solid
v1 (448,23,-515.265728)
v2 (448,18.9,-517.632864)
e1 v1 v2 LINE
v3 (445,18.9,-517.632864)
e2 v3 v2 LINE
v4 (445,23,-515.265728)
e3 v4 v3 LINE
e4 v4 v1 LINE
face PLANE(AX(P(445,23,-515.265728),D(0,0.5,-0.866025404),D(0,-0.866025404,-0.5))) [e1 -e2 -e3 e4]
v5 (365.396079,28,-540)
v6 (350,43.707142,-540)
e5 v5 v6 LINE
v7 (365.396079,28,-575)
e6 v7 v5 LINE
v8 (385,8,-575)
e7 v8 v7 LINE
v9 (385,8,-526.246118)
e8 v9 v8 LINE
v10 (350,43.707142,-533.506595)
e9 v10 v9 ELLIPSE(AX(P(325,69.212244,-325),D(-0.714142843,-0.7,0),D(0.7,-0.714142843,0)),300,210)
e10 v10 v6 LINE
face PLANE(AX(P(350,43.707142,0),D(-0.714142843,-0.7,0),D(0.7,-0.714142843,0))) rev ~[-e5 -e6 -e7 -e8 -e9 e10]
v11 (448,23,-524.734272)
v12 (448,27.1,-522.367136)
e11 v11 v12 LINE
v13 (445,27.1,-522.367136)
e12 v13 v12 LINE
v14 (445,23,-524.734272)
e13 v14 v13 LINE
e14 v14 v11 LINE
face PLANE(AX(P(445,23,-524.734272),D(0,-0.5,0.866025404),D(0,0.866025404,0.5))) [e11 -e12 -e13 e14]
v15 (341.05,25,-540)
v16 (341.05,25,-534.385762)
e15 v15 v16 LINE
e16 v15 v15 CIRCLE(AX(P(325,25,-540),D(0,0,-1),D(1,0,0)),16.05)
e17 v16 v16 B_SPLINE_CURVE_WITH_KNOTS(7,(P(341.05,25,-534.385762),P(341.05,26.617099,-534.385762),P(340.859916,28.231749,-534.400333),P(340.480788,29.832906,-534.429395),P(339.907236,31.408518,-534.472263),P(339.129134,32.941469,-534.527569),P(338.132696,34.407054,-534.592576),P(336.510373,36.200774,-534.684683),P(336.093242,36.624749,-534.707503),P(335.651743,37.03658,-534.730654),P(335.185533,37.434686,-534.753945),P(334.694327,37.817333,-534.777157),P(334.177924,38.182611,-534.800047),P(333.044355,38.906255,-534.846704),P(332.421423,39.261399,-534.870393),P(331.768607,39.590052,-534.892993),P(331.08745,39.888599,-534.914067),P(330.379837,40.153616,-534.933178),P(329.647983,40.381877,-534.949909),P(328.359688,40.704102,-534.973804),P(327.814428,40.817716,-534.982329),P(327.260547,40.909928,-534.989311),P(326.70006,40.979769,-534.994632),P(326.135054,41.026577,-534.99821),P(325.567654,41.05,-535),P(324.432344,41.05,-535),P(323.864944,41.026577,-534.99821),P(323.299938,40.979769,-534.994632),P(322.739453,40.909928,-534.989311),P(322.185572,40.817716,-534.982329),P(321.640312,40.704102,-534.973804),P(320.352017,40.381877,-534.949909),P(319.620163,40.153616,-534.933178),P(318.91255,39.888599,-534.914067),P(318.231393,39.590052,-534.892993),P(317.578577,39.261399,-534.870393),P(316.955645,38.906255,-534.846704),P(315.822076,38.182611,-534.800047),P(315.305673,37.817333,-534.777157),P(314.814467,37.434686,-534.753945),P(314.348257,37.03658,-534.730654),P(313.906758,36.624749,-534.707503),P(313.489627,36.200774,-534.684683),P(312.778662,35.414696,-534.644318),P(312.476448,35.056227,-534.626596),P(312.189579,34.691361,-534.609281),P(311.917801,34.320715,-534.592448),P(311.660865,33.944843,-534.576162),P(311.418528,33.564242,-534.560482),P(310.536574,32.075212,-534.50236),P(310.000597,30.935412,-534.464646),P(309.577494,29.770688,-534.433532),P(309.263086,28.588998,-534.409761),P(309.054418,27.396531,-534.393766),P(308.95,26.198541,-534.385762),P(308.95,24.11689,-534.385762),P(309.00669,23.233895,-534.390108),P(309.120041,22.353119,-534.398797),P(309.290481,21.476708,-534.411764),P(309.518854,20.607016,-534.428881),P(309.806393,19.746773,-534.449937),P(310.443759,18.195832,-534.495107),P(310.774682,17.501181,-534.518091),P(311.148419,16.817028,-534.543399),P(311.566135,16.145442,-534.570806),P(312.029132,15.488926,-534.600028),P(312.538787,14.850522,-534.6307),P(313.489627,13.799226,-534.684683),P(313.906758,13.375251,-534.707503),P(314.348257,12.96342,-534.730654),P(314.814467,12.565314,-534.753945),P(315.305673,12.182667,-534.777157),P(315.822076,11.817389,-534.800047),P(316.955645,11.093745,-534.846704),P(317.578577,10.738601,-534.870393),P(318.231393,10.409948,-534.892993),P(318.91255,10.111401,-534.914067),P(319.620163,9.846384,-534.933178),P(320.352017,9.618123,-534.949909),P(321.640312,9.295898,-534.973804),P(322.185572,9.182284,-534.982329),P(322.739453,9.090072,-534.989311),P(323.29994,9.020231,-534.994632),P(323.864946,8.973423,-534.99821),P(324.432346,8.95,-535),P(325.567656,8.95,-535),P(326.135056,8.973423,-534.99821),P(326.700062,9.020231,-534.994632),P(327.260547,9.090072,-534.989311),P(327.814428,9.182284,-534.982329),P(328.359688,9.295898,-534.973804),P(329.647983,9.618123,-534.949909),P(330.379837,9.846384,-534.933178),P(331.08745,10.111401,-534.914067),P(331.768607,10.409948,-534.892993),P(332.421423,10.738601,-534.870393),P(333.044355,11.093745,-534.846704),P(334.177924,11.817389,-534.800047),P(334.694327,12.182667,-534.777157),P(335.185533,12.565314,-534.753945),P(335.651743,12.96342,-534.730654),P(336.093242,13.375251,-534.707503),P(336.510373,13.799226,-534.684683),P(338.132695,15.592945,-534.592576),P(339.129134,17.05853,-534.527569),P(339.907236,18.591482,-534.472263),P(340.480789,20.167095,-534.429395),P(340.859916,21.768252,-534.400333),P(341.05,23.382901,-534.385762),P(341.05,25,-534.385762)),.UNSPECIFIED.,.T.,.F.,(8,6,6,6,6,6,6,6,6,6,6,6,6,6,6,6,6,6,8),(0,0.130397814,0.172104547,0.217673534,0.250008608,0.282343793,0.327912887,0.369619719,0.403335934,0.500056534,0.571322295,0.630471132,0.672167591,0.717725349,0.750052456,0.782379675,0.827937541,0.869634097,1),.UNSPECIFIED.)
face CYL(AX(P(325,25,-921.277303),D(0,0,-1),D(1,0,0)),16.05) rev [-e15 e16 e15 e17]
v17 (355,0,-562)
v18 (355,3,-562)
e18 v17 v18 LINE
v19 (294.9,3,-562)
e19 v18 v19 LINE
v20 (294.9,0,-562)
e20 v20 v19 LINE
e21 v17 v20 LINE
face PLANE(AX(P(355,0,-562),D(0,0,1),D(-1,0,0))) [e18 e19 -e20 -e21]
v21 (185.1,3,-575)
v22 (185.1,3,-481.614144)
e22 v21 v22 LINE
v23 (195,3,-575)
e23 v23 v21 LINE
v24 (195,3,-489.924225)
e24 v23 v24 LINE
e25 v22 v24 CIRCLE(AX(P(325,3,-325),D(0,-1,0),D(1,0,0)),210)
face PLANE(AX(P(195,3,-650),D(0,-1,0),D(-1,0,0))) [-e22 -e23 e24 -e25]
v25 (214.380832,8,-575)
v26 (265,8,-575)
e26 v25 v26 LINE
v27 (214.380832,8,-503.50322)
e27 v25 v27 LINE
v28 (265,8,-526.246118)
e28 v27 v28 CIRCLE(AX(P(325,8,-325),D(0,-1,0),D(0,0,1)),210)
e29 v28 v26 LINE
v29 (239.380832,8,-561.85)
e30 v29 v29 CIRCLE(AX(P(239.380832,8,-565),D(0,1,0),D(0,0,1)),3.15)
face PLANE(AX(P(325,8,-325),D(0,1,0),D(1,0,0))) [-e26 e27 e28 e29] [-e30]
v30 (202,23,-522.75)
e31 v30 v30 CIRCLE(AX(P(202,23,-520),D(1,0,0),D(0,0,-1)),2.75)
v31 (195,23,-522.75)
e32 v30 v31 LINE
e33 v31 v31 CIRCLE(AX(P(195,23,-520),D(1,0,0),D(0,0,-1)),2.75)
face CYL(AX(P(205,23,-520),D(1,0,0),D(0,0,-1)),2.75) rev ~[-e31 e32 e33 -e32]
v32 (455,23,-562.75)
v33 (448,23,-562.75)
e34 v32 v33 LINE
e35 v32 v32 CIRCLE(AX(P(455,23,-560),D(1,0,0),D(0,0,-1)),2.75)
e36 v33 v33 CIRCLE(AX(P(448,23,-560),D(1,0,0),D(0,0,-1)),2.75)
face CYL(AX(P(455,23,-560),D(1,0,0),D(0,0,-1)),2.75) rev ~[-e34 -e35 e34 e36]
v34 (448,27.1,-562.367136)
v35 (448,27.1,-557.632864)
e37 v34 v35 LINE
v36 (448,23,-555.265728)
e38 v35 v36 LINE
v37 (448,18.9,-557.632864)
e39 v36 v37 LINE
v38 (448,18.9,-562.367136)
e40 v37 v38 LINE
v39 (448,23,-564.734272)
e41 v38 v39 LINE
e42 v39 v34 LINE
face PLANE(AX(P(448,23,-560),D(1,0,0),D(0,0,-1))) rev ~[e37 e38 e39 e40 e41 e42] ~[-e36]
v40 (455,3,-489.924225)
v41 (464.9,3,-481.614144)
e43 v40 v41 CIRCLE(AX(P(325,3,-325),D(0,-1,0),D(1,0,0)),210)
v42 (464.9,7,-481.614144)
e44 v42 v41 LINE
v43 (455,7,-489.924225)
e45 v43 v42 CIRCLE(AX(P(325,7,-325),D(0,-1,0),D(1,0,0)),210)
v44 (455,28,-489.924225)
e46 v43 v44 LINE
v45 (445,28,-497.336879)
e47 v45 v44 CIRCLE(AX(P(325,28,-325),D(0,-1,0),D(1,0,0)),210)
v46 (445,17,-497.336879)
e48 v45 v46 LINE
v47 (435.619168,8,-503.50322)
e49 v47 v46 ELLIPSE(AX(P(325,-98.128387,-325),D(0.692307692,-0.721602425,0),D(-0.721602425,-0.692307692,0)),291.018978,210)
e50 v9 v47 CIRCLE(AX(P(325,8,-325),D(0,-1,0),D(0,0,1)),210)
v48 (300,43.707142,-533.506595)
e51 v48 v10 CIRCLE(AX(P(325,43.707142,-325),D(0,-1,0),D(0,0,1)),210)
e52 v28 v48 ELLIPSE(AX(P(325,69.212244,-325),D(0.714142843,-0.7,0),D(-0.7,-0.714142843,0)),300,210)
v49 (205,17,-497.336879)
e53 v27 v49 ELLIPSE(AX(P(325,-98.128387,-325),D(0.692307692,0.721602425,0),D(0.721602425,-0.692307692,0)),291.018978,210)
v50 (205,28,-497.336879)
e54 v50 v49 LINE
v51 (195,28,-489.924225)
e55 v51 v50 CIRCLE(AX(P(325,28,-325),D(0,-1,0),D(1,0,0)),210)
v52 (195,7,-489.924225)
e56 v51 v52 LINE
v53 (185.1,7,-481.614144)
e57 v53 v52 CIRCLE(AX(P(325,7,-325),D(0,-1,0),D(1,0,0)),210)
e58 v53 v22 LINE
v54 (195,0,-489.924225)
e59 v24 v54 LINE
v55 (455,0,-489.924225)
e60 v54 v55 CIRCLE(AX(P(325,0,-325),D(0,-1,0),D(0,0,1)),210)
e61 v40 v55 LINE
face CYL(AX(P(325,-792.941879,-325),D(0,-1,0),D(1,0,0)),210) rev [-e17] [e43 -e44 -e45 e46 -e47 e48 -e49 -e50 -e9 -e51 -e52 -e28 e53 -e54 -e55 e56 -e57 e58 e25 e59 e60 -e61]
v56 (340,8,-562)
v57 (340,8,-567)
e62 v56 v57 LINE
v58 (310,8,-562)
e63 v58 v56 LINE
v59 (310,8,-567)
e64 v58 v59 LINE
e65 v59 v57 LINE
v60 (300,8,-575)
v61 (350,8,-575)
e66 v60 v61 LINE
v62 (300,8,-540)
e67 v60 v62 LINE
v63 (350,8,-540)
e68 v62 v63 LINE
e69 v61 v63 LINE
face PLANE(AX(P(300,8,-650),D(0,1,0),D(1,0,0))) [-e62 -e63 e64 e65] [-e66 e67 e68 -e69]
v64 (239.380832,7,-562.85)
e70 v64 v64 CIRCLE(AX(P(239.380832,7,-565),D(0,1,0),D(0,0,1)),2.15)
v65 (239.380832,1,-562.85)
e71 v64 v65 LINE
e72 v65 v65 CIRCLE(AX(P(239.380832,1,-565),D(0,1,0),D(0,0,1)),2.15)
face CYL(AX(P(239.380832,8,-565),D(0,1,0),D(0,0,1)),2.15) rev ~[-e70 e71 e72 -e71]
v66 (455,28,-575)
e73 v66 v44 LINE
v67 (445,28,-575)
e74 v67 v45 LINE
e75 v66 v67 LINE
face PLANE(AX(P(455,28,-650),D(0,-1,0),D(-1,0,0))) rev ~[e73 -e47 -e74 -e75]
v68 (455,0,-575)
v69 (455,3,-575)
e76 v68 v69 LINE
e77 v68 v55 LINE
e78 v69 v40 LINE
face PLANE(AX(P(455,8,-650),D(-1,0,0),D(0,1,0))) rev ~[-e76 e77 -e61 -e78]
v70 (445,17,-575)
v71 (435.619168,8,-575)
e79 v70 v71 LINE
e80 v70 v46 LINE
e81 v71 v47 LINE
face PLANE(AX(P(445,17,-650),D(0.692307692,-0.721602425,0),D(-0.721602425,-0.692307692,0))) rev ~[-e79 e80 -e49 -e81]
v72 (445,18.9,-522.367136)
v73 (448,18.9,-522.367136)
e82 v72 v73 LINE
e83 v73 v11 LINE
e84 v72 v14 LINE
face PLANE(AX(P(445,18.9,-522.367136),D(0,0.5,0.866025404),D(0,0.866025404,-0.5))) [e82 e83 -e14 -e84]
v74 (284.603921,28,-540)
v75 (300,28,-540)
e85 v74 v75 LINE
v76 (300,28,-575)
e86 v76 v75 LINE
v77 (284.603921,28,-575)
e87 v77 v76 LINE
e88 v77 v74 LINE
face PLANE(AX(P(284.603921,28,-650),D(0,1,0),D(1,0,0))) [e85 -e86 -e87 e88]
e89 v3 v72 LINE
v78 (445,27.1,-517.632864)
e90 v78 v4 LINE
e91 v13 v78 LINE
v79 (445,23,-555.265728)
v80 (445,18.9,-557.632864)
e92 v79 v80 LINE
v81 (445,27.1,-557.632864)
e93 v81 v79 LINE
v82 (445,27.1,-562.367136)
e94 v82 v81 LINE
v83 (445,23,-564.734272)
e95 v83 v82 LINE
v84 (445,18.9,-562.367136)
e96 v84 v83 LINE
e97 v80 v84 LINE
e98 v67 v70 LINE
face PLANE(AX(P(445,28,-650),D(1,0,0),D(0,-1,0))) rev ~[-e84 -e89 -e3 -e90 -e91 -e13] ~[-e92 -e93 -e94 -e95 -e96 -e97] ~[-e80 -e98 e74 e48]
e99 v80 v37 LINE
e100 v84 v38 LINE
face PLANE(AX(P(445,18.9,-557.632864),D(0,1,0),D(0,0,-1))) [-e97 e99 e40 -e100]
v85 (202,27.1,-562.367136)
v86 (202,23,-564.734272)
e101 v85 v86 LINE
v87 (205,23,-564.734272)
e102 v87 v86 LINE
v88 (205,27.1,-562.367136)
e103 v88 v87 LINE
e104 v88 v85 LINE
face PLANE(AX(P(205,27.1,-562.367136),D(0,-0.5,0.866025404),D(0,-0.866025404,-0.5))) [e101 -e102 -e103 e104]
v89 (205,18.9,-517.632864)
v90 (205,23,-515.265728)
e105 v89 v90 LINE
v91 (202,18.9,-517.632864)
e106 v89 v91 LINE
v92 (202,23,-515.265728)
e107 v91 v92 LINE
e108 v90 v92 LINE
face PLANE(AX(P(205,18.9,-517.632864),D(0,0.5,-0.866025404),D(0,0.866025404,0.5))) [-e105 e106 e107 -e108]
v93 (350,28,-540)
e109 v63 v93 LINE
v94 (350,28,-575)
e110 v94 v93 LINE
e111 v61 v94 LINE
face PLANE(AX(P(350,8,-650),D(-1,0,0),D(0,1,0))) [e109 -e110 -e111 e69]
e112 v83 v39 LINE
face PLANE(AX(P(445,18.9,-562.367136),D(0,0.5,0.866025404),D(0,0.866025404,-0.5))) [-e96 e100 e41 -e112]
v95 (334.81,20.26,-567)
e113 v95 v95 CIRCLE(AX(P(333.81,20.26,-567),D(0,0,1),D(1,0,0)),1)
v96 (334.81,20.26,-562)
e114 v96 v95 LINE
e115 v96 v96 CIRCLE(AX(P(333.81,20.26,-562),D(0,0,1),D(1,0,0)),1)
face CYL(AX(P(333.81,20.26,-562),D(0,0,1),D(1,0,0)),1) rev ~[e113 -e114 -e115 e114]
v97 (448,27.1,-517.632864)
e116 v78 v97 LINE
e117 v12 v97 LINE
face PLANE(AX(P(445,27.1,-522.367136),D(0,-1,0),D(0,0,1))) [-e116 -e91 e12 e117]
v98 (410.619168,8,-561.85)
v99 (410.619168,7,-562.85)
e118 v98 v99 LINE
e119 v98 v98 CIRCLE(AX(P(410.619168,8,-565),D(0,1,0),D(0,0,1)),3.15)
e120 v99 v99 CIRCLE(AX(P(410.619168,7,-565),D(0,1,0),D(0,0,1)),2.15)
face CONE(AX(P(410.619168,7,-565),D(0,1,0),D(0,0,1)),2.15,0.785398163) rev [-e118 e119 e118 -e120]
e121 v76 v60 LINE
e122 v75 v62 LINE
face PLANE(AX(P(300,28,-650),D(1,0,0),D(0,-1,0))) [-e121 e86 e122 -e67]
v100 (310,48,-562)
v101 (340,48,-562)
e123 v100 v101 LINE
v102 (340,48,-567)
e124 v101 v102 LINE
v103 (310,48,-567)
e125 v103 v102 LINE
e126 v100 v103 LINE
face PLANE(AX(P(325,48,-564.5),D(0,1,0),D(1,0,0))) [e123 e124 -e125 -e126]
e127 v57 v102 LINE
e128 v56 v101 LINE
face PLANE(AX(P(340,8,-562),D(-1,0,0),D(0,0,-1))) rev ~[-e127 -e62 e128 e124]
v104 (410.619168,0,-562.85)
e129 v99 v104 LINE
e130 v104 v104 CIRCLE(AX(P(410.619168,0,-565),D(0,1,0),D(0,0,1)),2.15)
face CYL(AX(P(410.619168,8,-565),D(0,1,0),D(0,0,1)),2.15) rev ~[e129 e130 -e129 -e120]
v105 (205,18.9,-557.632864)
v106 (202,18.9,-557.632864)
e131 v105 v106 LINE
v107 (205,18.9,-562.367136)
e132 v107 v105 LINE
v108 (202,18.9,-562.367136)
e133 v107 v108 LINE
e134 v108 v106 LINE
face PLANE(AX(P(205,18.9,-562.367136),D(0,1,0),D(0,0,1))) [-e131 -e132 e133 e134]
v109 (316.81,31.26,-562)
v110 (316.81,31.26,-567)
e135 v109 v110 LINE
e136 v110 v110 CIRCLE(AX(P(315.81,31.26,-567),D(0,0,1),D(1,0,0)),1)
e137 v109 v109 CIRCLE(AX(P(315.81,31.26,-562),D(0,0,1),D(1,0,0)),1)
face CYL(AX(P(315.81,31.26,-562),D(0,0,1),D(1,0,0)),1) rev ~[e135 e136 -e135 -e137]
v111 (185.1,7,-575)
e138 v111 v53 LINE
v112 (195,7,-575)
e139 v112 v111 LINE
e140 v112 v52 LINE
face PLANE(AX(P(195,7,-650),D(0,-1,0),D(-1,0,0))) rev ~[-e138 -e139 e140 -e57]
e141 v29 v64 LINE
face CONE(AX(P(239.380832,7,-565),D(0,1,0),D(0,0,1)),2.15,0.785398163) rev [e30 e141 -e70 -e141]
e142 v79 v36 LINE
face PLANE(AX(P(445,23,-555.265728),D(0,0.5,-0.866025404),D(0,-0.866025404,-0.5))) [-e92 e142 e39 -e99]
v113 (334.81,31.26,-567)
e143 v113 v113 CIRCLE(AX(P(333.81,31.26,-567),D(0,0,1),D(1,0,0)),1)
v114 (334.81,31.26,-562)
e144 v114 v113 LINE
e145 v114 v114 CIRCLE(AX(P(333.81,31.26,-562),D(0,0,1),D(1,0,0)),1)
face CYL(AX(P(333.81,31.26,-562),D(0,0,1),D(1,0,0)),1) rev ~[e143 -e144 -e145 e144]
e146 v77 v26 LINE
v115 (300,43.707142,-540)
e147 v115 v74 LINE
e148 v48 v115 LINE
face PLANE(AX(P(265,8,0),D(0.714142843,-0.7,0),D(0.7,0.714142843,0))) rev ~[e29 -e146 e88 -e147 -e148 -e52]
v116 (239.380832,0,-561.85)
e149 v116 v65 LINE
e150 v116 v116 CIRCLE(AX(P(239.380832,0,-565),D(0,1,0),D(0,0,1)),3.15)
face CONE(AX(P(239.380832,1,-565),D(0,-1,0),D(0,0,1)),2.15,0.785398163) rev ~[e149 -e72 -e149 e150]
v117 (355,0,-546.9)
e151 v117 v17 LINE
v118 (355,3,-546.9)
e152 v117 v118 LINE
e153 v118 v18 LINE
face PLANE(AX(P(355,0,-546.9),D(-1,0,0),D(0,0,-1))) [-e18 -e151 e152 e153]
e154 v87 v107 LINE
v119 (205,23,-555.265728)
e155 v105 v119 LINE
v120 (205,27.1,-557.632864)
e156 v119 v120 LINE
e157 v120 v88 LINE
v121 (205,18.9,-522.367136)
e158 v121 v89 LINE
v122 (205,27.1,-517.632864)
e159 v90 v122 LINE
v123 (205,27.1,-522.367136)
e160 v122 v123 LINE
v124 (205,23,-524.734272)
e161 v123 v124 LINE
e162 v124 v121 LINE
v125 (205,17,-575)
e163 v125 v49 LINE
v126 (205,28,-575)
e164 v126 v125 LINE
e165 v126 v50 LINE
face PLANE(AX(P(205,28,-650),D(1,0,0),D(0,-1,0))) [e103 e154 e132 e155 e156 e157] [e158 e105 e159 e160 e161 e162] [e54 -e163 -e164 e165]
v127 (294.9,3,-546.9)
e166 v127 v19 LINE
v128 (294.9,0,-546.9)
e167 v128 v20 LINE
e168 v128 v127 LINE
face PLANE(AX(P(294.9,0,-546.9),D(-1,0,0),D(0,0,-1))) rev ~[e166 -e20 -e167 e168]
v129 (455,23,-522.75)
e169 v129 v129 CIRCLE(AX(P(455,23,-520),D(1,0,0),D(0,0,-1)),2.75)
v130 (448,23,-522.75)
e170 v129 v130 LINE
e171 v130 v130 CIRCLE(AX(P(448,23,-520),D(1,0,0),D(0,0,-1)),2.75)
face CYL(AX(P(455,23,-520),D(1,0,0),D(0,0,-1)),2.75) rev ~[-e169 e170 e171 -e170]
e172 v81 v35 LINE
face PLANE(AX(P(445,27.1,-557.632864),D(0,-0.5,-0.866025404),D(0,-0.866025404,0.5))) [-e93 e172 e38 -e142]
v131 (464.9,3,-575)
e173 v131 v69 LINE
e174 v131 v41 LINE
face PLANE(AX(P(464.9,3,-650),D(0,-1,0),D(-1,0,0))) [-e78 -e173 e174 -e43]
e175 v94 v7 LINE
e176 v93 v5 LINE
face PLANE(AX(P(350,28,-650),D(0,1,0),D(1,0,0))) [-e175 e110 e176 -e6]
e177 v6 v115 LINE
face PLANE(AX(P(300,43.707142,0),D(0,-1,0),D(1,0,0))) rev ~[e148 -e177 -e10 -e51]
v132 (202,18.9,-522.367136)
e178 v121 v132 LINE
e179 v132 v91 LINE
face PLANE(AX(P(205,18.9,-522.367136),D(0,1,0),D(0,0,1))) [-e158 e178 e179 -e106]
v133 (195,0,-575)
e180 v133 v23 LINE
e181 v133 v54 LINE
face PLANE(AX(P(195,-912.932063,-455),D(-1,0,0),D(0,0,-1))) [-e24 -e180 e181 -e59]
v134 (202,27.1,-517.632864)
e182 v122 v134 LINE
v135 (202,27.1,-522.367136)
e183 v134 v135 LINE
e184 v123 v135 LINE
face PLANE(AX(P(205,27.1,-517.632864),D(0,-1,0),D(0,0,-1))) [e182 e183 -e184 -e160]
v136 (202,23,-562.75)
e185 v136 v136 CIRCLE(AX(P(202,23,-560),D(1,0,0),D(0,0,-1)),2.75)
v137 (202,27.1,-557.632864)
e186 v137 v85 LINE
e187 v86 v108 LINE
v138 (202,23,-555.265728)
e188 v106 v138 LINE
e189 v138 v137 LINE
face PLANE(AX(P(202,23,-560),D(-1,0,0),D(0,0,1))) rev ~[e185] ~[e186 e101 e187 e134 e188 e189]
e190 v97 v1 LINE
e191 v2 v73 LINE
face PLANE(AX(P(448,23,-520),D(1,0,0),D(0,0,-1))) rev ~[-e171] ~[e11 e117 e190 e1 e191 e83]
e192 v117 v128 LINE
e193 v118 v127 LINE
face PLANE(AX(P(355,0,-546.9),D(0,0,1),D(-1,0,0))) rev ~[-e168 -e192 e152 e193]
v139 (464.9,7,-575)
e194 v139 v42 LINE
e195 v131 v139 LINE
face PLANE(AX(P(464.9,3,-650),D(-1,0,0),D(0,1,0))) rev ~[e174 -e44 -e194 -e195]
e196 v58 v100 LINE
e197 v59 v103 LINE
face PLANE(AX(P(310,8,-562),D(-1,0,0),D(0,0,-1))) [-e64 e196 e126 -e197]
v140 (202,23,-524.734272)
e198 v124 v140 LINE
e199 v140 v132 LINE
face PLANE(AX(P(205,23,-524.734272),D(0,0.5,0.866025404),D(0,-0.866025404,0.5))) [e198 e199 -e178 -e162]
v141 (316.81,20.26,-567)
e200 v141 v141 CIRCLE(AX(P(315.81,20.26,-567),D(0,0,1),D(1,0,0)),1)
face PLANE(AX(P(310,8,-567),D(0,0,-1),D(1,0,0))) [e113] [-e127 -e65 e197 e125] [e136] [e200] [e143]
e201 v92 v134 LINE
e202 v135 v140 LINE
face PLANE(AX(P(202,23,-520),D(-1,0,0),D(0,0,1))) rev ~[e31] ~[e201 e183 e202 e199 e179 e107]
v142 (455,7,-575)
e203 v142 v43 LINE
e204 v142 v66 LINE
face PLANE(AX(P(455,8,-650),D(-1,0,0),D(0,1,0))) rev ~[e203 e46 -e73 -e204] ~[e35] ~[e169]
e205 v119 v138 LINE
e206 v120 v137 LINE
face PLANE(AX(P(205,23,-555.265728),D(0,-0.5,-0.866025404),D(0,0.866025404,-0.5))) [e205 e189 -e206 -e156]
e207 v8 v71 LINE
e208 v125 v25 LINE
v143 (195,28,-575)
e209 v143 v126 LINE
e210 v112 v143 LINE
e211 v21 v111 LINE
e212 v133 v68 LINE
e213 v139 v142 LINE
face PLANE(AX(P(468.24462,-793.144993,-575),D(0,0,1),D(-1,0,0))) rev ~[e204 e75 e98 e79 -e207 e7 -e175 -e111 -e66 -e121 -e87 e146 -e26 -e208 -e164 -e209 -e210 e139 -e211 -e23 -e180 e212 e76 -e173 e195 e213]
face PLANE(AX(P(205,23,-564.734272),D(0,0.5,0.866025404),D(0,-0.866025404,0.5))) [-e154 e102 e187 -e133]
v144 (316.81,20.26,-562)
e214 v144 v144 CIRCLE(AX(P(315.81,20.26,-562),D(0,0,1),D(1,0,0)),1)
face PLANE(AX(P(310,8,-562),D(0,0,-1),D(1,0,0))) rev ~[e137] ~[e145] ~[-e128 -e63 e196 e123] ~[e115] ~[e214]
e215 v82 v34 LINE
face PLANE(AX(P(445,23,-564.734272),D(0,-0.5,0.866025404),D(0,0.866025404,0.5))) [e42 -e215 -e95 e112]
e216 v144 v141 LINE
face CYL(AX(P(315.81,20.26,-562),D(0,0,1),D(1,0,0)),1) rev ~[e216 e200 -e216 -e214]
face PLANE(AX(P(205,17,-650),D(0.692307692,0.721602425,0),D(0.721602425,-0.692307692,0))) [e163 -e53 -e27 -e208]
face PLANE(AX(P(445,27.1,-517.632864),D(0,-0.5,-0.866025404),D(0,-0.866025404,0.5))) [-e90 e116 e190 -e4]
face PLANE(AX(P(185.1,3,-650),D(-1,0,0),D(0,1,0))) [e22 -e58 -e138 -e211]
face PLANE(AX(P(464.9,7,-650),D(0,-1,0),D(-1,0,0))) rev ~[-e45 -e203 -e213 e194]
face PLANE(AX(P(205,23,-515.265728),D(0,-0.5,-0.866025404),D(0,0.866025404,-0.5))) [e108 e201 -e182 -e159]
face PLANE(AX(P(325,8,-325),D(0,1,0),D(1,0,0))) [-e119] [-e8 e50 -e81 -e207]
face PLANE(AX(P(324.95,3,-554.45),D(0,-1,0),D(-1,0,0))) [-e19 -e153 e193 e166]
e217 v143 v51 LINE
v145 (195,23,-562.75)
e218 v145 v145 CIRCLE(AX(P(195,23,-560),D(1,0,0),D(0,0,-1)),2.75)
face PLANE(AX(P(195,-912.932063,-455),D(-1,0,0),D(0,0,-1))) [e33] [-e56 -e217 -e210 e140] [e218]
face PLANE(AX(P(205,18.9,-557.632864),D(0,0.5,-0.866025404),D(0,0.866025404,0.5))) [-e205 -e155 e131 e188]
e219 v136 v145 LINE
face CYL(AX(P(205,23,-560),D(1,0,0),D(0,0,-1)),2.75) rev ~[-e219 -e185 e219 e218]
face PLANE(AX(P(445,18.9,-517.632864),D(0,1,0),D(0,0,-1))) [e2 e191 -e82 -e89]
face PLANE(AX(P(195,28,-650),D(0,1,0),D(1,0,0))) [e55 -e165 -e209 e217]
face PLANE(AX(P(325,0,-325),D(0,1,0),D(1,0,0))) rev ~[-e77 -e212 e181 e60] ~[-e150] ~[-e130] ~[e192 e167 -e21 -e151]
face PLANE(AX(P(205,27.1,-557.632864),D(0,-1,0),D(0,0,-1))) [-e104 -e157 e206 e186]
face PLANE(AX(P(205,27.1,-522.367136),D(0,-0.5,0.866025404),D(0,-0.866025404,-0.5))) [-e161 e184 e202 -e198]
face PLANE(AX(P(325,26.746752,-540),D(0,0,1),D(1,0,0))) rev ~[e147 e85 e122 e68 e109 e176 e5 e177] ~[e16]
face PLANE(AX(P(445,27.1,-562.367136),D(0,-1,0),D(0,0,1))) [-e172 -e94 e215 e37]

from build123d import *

# Parameters (mm, degrees)
SKETCH1_W               = 650
SKETCH1_H               = 650
BOSS_EXTRUDE1_DEPTH     = 8
BOSS_EXTRUDE2_DEPTH     = 650
CUT_EXTRUDE2_DEPTH      = 921.277302922
CUT_EXTRUDE2_DEPTH_BACK = 921.277302922
SKETCH4_R               = 16.05
CUT_EXTRUDE1_DEPTH      = 920.932062709
CUT_EXTRUDE1_DEPTH_BACK = 920.932062709
SKETCH2_R               = 210
CUT_EXTRUDE3_DEPTH      = 921.277302998
CUT_EXTRUDE3_DEPTH_BACK = 110
CUT_EXTRUDE4_DEPTH      = 110
CUT_EXTRUDE5_DEPTH      = 920.932062713
CUT_EXTRUDE5_DEPTH_BACK = 920.932062713
SKETCH7_OUTSIDE_W       = 836.056
SKETCH7_OUTSIDE_H       = 836.056
SKETCH7_OUTSIDE_W_2     = 260
SKETCH7_OUTSIDE_H_2     = 231.544504505
BOSS_EXTRUDE3_DEPTH     = 170
SKETCH9_W               = 9.9
SKETCH9_H               = 4
BOSS_EXTRUDE4_DEPTH     = 170
CUT_EXTRUDE6_DEPTH      = 800.941879143
CUT_EXTRUDE6_DEPTH_BACK = 800.941879143
SKETCH10_R              = 210
SKETCH11_W              = 30
SKETCH11_H              = 5
BOSS_EXTRUDE5_DEPTH     = 40
CUT_EXTRUDE7_DEPTH      = 801.144993169
CUT_EXTRUDE7_DEPTH_BACK = 801.144993169
SKETCH13_R              = 2.75
CUT_EXTRUDE8_DEPTH      = 10
SKETCH14_R              = 2.75
CUT_EXTRUDE9_DEPTH      = 10
CUT_EXTRUDE10_DEPTH     = 3
LPATTERN1_COUNT         = 2
LPATTERN1_PITCH         = 40
CUT_EXTRUDE11_DEPTH     = 3
LPATTERN2_COUNT         = 2
LPATTERN2_PITCH         = 40
SKETCH17_R              = 2.15
CUT_EXTRUDE12_DEPTH     = 10
CHAMFER1_SIZE           = 1
SKETCH18_W              = 60.1
SKETCH18_H              = 15.1
CUT_EXTRUDE13_DEPTH     = 3
SKETCH19_R              = 1
CUT_EXTRUDE14_DEPTH     = 10


with BuildPart() as part:
    # Sketch1 → Boss-Extrude1 (new body)
    with BuildSketch(Plane(origin=(0, 0, 0), x_dir=(1, 0, 0), z_dir=(0, 1, 0))):
        with Locations((325, 325)):
            Rectangle(SKETCH1_W, SKETCH1_H)
    extrude(amount=BOSS_EXTRUDE1_DEPTH)

    # Sketch3 → Boss-Extrude2 (add)
    with BuildSketch(Plane.XY):
        Polygon((300, 43.707142143), (350, 43.707142143), (385, 8), (265, 8), align=None)
    extrude(amount=-BOSS_EXTRUDE2_DEPTH)

    # Sketch4 → Cut-Extrude2 (cut, two sides: drawn at the far end of the back side and taken through both)
    with BuildSketch(Plane.XY.offset(-CUT_EXTRUDE2_DEPTH_BACK)):
        with Locations((325, 25)):
            Circle(SKETCH4_R)
    extrude(amount=CUT_EXTRUDE2_DEPTH + CUT_EXTRUDE2_DEPTH_BACK, mode=Mode.SUBTRACT)

    # Sketch2 → Cut-Extrude1 (cut, two sides: drawn at the far end of the back side and taken through both)
    with BuildSketch(Plane(origin=(0, 8, 0), x_dir=(1, 0, 0), z_dir=(0, 1, 0)).offset(-CUT_EXTRUDE1_DEPTH_BACK)):
        with Locations(Location((325, 325, 0), (0, 0, 270))):
            Circle(SKETCH2_R)
    extrude(amount=CUT_EXTRUDE1_DEPTH + CUT_EXTRUDE1_DEPTH_BACK, mode=Mode.SUBTRACT)

    # Sketch5 → Cut-Extrude3 (cut, two sides: drawn at the far end of the back side and taken through both)
    with BuildSketch(Plane.XY.offset(-CUT_EXTRUDE3_DEPTH_BACK)):
        Polygon((300, 43.707142143), (350, 43.707142143), (365.396078824, 28), (350, 28), (350, 8), (300, 8), (300, 28), (284.603921176, 28), align=None)
    extrude(amount=CUT_EXTRUDE3_DEPTH + CUT_EXTRUDE3_DEPTH_BACK, mode=Mode.SUBTRACT)

    # Sketch6 → Cut-Extrude4 (cut)
    with BuildSketch(Plane(origin=(0, 0, -650), x_dir=(-1, 0, 0), z_dir=(0, 0, -1))):
        Polygon((-350, 43.707142143), (-300, 43.707142143), (-284.603921176, 28), (-300, 28), (-300, 8), (-350, 8), (-350, 28), (-365.396078824, 28), align=None)
    extrude(amount=-CUT_EXTRUDE4_DEPTH, mode=Mode.SUBTRACT)

    # Sketch7 outside → Cut-Extrude5 (cut, two sides: drawn at the far end of the back side and taken through both)
    with BuildSketch(Plane(origin=(0, 8, 0), x_dir=(1, 0, 0), z_dir=(0, 1, 0)).offset(-CUT_EXTRUDE5_DEPTH_BACK)):
        with Locations((325, 325)):
            Rectangle(SKETCH7_OUTSIDE_W, SKETCH7_OUTSIDE_H)
        with Locations((325, 570.772252253)):
            Rectangle(SKETCH7_OUTSIDE_W_2, SKETCH7_OUTSIDE_H_2, mode=Mode.SUBTRACT)
    extrude(amount=CUT_EXTRUDE5_DEPTH + CUT_EXTRUDE5_DEPTH_BACK, mode=Mode.SUBTRACT)

    # Sketch8 → Boss-Extrude3 (add)
    with BuildSketch(Plane(origin=(0, 0, -650), x_dir=(-1, 0, 0), z_dir=(0, 0, -1))):
        Polygon((-455, 8), (-455, 28), (-445, 28), (-445, 17), (-435.61916848, 8), align=None)
        Polygon((-195, 8), (-195, 28), (-205, 28), (-205, 17), (-214.38083152, 8), align=None)
    extrude(amount=-BOSS_EXTRUDE3_DEPTH)

    # Sketch9 → Boss-Extrude4 (add)
    with BuildSketch(Plane(origin=(0, 0, -650), x_dir=(-1, 0, 0), z_dir=(0, 0, -1))):
        with Locations((-459.95, 5)):
            Rectangle(SKETCH9_W, SKETCH9_H)
        with Locations((-190.05, 5)):
            Rectangle(SKETCH9_W, SKETCH9_H)
    extrude(amount=-BOSS_EXTRUDE4_DEPTH)

    # Sketch10 → Cut-Extrude6 (cut, two sides: drawn at the far end of the back side and taken through both)
    with BuildSketch(Plane(origin=(0, 8, 0), x_dir=(1, 0, 0), z_dir=(0, 1, 0)).offset(-CUT_EXTRUDE6_DEPTH_BACK)):
        with Locations((325, 325)):
            Circle(SKETCH10_R)
    extrude(amount=CUT_EXTRUDE6_DEPTH + CUT_EXTRUDE6_DEPTH_BACK, mode=Mode.SUBTRACT)

    # Sketch11 → Boss-Extrude5 (add)
    with BuildSketch(Plane(origin=(0, 8, 0), x_dir=(1, 0, 0), z_dir=(0, 1, 0))):
        with Locations((325, 564.5)):
            Rectangle(SKETCH11_W, SKETCH11_H)
    extrude(amount=BOSS_EXTRUDE5_DEPTH)

    # Sketch12 → Cut-Extrude7 (cut, two sides: drawn at the far end of the back side and taken through both)
    with BuildSketch(Plane(origin=(0, 8, 0), x_dir=(1, 0, 0), z_dir=(0, 1, 0)).offset(-CUT_EXTRUDE7_DEPTH_BACK)):
        Polygon((325, 650), (468.244620066, 650), (468.244620066, 575), (178.69132389, 575), (178.69132389, 650), align=None)
    extrude(amount=CUT_EXTRUDE7_DEPTH + CUT_EXTRUDE7_DEPTH_BACK, mode=Mode.SUBTRACT)

    # Sketch13 → Cut-Extrude8 (cut)
    with BuildSketch(Plane(origin=(205, 0, 0), x_dir=(0, 0, -1), z_dir=(1, 0, 0))):
        with Locations((520, 23)):
            Circle(SKETCH13_R)
        with Locations((560, 23)):
            Circle(SKETCH13_R)
    extrude(amount=-CUT_EXTRUDE8_DEPTH, mode=Mode.SUBTRACT)

    # Sketch14 → Cut-Extrude9 (cut)
    with BuildSketch(Plane(origin=(455, 0, 0), x_dir=(0, 0, -1), z_dir=(1, 0, 0))):
        with Locations((560, 23)):
            Circle(SKETCH14_R)
        with Locations((520, 23)):
            Circle(SKETCH14_R)
    extrude(amount=-CUT_EXTRUDE9_DEPTH, mode=Mode.SUBTRACT)

    # Sketch15 → Cut-Extrude10 (cut)
    with BuildSketch(Plane(origin=(205, 0, 0), x_dir=(0, 0, -1), z_dir=(1, 0, 0))):
        Polygon((557.632863896, 27.1), (562.367136104, 27.1), (564.734272207, 23), (562.367136104, 18.9), (557.632863896, 18.9), (555.265727793, 23), align=None)
    cut_extrude10 = extrude(amount=-CUT_EXTRUDE10_DEPTH, mode=Mode.SUBTRACT)

    # LPattern1: Cut-Extrude10 ×2
    with Locations(*[(0, 0, i * LPATTERN1_PITCH) for i in range(1, LPATTERN1_COUNT)]):
        add(cut_extrude10, mode=Mode.SUBTRACT)

    # Sketch16 → Cut-Extrude11 (cut)
    with BuildSketch(Plane.ZY.offset(-445)):
        Polygon((-522.367136104, 27.1), (-517.632863896, 27.1), (-515.265727793, 23), (-517.632863896, 18.9), (-522.367136104, 18.9), (-524.734272207, 23), align=None)
    cut_extrude11 = extrude(amount=-CUT_EXTRUDE11_DEPTH, mode=Mode.SUBTRACT)

    # LPattern2: Cut-Extrude11 ×2
    with Locations(*[(0, 0, -i * LPATTERN2_PITCH) for i in range(1, LPATTERN2_COUNT)]):
        add(cut_extrude11, mode=Mode.SUBTRACT)

    # Sketch17 → Cut-Extrude12 (cut)
    with BuildSketch(Plane(origin=(0, 8, 0), x_dir=(1, 0, 0), z_dir=(0, 1, 0))):
        with Locations(Location((239.38083152, 565, 0), (0, 0, 270))):
            Circle(SKETCH17_R)
        with Locations(Location((410.61916848, 565, 0), (0, 0, 270))):
            Circle(SKETCH17_R)
    extrude(amount=-CUT_EXTRUDE12_DEPTH, mode=Mode.SUBTRACT)

    # Chamfer1
    chamfer1_edges = [part.edges().sort_by_distance(p)[0] for p in [
        (239.38083152, 0, -567.15),
        (239.38083152, 8, -567.15),
        (410.61916848, 8, -567.15),
    ]]
    chamfer(chamfer1_edges, length=CHAMFER1_SIZE)

    # Sketch18 → Cut-Extrude13 (cut)
    with BuildSketch(Plane(origin=(0, 0, 0), x_dir=(-1, 0, 0), z_dir=(0, -1, 0))):
        with Locations((-324.95, 554.45)):
            Rectangle(SKETCH18_W, SKETCH18_H)
    extrude(amount=-CUT_EXTRUDE13_DEPTH, mode=Mode.SUBTRACT)

    # Sketch19 → Cut-Extrude14 (cut)
    with BuildSketch(Plane.XY.offset(-562)):
        with Locations((315.81, 20.26)):
            Circle(SKETCH19_R)
        with Locations((333.81, 20.26)):
            Circle(SKETCH19_R)
        with Locations((333.81, 31.26)):
            Circle(SKETCH19_R)
        with Locations((315.81, 31.26)):
            Circle(SKETCH19_R)
    extrude(amount=-CUT_EXTRUDE14_DEPTH, mode=Mode.SUBTRACT)


solid = part.part
